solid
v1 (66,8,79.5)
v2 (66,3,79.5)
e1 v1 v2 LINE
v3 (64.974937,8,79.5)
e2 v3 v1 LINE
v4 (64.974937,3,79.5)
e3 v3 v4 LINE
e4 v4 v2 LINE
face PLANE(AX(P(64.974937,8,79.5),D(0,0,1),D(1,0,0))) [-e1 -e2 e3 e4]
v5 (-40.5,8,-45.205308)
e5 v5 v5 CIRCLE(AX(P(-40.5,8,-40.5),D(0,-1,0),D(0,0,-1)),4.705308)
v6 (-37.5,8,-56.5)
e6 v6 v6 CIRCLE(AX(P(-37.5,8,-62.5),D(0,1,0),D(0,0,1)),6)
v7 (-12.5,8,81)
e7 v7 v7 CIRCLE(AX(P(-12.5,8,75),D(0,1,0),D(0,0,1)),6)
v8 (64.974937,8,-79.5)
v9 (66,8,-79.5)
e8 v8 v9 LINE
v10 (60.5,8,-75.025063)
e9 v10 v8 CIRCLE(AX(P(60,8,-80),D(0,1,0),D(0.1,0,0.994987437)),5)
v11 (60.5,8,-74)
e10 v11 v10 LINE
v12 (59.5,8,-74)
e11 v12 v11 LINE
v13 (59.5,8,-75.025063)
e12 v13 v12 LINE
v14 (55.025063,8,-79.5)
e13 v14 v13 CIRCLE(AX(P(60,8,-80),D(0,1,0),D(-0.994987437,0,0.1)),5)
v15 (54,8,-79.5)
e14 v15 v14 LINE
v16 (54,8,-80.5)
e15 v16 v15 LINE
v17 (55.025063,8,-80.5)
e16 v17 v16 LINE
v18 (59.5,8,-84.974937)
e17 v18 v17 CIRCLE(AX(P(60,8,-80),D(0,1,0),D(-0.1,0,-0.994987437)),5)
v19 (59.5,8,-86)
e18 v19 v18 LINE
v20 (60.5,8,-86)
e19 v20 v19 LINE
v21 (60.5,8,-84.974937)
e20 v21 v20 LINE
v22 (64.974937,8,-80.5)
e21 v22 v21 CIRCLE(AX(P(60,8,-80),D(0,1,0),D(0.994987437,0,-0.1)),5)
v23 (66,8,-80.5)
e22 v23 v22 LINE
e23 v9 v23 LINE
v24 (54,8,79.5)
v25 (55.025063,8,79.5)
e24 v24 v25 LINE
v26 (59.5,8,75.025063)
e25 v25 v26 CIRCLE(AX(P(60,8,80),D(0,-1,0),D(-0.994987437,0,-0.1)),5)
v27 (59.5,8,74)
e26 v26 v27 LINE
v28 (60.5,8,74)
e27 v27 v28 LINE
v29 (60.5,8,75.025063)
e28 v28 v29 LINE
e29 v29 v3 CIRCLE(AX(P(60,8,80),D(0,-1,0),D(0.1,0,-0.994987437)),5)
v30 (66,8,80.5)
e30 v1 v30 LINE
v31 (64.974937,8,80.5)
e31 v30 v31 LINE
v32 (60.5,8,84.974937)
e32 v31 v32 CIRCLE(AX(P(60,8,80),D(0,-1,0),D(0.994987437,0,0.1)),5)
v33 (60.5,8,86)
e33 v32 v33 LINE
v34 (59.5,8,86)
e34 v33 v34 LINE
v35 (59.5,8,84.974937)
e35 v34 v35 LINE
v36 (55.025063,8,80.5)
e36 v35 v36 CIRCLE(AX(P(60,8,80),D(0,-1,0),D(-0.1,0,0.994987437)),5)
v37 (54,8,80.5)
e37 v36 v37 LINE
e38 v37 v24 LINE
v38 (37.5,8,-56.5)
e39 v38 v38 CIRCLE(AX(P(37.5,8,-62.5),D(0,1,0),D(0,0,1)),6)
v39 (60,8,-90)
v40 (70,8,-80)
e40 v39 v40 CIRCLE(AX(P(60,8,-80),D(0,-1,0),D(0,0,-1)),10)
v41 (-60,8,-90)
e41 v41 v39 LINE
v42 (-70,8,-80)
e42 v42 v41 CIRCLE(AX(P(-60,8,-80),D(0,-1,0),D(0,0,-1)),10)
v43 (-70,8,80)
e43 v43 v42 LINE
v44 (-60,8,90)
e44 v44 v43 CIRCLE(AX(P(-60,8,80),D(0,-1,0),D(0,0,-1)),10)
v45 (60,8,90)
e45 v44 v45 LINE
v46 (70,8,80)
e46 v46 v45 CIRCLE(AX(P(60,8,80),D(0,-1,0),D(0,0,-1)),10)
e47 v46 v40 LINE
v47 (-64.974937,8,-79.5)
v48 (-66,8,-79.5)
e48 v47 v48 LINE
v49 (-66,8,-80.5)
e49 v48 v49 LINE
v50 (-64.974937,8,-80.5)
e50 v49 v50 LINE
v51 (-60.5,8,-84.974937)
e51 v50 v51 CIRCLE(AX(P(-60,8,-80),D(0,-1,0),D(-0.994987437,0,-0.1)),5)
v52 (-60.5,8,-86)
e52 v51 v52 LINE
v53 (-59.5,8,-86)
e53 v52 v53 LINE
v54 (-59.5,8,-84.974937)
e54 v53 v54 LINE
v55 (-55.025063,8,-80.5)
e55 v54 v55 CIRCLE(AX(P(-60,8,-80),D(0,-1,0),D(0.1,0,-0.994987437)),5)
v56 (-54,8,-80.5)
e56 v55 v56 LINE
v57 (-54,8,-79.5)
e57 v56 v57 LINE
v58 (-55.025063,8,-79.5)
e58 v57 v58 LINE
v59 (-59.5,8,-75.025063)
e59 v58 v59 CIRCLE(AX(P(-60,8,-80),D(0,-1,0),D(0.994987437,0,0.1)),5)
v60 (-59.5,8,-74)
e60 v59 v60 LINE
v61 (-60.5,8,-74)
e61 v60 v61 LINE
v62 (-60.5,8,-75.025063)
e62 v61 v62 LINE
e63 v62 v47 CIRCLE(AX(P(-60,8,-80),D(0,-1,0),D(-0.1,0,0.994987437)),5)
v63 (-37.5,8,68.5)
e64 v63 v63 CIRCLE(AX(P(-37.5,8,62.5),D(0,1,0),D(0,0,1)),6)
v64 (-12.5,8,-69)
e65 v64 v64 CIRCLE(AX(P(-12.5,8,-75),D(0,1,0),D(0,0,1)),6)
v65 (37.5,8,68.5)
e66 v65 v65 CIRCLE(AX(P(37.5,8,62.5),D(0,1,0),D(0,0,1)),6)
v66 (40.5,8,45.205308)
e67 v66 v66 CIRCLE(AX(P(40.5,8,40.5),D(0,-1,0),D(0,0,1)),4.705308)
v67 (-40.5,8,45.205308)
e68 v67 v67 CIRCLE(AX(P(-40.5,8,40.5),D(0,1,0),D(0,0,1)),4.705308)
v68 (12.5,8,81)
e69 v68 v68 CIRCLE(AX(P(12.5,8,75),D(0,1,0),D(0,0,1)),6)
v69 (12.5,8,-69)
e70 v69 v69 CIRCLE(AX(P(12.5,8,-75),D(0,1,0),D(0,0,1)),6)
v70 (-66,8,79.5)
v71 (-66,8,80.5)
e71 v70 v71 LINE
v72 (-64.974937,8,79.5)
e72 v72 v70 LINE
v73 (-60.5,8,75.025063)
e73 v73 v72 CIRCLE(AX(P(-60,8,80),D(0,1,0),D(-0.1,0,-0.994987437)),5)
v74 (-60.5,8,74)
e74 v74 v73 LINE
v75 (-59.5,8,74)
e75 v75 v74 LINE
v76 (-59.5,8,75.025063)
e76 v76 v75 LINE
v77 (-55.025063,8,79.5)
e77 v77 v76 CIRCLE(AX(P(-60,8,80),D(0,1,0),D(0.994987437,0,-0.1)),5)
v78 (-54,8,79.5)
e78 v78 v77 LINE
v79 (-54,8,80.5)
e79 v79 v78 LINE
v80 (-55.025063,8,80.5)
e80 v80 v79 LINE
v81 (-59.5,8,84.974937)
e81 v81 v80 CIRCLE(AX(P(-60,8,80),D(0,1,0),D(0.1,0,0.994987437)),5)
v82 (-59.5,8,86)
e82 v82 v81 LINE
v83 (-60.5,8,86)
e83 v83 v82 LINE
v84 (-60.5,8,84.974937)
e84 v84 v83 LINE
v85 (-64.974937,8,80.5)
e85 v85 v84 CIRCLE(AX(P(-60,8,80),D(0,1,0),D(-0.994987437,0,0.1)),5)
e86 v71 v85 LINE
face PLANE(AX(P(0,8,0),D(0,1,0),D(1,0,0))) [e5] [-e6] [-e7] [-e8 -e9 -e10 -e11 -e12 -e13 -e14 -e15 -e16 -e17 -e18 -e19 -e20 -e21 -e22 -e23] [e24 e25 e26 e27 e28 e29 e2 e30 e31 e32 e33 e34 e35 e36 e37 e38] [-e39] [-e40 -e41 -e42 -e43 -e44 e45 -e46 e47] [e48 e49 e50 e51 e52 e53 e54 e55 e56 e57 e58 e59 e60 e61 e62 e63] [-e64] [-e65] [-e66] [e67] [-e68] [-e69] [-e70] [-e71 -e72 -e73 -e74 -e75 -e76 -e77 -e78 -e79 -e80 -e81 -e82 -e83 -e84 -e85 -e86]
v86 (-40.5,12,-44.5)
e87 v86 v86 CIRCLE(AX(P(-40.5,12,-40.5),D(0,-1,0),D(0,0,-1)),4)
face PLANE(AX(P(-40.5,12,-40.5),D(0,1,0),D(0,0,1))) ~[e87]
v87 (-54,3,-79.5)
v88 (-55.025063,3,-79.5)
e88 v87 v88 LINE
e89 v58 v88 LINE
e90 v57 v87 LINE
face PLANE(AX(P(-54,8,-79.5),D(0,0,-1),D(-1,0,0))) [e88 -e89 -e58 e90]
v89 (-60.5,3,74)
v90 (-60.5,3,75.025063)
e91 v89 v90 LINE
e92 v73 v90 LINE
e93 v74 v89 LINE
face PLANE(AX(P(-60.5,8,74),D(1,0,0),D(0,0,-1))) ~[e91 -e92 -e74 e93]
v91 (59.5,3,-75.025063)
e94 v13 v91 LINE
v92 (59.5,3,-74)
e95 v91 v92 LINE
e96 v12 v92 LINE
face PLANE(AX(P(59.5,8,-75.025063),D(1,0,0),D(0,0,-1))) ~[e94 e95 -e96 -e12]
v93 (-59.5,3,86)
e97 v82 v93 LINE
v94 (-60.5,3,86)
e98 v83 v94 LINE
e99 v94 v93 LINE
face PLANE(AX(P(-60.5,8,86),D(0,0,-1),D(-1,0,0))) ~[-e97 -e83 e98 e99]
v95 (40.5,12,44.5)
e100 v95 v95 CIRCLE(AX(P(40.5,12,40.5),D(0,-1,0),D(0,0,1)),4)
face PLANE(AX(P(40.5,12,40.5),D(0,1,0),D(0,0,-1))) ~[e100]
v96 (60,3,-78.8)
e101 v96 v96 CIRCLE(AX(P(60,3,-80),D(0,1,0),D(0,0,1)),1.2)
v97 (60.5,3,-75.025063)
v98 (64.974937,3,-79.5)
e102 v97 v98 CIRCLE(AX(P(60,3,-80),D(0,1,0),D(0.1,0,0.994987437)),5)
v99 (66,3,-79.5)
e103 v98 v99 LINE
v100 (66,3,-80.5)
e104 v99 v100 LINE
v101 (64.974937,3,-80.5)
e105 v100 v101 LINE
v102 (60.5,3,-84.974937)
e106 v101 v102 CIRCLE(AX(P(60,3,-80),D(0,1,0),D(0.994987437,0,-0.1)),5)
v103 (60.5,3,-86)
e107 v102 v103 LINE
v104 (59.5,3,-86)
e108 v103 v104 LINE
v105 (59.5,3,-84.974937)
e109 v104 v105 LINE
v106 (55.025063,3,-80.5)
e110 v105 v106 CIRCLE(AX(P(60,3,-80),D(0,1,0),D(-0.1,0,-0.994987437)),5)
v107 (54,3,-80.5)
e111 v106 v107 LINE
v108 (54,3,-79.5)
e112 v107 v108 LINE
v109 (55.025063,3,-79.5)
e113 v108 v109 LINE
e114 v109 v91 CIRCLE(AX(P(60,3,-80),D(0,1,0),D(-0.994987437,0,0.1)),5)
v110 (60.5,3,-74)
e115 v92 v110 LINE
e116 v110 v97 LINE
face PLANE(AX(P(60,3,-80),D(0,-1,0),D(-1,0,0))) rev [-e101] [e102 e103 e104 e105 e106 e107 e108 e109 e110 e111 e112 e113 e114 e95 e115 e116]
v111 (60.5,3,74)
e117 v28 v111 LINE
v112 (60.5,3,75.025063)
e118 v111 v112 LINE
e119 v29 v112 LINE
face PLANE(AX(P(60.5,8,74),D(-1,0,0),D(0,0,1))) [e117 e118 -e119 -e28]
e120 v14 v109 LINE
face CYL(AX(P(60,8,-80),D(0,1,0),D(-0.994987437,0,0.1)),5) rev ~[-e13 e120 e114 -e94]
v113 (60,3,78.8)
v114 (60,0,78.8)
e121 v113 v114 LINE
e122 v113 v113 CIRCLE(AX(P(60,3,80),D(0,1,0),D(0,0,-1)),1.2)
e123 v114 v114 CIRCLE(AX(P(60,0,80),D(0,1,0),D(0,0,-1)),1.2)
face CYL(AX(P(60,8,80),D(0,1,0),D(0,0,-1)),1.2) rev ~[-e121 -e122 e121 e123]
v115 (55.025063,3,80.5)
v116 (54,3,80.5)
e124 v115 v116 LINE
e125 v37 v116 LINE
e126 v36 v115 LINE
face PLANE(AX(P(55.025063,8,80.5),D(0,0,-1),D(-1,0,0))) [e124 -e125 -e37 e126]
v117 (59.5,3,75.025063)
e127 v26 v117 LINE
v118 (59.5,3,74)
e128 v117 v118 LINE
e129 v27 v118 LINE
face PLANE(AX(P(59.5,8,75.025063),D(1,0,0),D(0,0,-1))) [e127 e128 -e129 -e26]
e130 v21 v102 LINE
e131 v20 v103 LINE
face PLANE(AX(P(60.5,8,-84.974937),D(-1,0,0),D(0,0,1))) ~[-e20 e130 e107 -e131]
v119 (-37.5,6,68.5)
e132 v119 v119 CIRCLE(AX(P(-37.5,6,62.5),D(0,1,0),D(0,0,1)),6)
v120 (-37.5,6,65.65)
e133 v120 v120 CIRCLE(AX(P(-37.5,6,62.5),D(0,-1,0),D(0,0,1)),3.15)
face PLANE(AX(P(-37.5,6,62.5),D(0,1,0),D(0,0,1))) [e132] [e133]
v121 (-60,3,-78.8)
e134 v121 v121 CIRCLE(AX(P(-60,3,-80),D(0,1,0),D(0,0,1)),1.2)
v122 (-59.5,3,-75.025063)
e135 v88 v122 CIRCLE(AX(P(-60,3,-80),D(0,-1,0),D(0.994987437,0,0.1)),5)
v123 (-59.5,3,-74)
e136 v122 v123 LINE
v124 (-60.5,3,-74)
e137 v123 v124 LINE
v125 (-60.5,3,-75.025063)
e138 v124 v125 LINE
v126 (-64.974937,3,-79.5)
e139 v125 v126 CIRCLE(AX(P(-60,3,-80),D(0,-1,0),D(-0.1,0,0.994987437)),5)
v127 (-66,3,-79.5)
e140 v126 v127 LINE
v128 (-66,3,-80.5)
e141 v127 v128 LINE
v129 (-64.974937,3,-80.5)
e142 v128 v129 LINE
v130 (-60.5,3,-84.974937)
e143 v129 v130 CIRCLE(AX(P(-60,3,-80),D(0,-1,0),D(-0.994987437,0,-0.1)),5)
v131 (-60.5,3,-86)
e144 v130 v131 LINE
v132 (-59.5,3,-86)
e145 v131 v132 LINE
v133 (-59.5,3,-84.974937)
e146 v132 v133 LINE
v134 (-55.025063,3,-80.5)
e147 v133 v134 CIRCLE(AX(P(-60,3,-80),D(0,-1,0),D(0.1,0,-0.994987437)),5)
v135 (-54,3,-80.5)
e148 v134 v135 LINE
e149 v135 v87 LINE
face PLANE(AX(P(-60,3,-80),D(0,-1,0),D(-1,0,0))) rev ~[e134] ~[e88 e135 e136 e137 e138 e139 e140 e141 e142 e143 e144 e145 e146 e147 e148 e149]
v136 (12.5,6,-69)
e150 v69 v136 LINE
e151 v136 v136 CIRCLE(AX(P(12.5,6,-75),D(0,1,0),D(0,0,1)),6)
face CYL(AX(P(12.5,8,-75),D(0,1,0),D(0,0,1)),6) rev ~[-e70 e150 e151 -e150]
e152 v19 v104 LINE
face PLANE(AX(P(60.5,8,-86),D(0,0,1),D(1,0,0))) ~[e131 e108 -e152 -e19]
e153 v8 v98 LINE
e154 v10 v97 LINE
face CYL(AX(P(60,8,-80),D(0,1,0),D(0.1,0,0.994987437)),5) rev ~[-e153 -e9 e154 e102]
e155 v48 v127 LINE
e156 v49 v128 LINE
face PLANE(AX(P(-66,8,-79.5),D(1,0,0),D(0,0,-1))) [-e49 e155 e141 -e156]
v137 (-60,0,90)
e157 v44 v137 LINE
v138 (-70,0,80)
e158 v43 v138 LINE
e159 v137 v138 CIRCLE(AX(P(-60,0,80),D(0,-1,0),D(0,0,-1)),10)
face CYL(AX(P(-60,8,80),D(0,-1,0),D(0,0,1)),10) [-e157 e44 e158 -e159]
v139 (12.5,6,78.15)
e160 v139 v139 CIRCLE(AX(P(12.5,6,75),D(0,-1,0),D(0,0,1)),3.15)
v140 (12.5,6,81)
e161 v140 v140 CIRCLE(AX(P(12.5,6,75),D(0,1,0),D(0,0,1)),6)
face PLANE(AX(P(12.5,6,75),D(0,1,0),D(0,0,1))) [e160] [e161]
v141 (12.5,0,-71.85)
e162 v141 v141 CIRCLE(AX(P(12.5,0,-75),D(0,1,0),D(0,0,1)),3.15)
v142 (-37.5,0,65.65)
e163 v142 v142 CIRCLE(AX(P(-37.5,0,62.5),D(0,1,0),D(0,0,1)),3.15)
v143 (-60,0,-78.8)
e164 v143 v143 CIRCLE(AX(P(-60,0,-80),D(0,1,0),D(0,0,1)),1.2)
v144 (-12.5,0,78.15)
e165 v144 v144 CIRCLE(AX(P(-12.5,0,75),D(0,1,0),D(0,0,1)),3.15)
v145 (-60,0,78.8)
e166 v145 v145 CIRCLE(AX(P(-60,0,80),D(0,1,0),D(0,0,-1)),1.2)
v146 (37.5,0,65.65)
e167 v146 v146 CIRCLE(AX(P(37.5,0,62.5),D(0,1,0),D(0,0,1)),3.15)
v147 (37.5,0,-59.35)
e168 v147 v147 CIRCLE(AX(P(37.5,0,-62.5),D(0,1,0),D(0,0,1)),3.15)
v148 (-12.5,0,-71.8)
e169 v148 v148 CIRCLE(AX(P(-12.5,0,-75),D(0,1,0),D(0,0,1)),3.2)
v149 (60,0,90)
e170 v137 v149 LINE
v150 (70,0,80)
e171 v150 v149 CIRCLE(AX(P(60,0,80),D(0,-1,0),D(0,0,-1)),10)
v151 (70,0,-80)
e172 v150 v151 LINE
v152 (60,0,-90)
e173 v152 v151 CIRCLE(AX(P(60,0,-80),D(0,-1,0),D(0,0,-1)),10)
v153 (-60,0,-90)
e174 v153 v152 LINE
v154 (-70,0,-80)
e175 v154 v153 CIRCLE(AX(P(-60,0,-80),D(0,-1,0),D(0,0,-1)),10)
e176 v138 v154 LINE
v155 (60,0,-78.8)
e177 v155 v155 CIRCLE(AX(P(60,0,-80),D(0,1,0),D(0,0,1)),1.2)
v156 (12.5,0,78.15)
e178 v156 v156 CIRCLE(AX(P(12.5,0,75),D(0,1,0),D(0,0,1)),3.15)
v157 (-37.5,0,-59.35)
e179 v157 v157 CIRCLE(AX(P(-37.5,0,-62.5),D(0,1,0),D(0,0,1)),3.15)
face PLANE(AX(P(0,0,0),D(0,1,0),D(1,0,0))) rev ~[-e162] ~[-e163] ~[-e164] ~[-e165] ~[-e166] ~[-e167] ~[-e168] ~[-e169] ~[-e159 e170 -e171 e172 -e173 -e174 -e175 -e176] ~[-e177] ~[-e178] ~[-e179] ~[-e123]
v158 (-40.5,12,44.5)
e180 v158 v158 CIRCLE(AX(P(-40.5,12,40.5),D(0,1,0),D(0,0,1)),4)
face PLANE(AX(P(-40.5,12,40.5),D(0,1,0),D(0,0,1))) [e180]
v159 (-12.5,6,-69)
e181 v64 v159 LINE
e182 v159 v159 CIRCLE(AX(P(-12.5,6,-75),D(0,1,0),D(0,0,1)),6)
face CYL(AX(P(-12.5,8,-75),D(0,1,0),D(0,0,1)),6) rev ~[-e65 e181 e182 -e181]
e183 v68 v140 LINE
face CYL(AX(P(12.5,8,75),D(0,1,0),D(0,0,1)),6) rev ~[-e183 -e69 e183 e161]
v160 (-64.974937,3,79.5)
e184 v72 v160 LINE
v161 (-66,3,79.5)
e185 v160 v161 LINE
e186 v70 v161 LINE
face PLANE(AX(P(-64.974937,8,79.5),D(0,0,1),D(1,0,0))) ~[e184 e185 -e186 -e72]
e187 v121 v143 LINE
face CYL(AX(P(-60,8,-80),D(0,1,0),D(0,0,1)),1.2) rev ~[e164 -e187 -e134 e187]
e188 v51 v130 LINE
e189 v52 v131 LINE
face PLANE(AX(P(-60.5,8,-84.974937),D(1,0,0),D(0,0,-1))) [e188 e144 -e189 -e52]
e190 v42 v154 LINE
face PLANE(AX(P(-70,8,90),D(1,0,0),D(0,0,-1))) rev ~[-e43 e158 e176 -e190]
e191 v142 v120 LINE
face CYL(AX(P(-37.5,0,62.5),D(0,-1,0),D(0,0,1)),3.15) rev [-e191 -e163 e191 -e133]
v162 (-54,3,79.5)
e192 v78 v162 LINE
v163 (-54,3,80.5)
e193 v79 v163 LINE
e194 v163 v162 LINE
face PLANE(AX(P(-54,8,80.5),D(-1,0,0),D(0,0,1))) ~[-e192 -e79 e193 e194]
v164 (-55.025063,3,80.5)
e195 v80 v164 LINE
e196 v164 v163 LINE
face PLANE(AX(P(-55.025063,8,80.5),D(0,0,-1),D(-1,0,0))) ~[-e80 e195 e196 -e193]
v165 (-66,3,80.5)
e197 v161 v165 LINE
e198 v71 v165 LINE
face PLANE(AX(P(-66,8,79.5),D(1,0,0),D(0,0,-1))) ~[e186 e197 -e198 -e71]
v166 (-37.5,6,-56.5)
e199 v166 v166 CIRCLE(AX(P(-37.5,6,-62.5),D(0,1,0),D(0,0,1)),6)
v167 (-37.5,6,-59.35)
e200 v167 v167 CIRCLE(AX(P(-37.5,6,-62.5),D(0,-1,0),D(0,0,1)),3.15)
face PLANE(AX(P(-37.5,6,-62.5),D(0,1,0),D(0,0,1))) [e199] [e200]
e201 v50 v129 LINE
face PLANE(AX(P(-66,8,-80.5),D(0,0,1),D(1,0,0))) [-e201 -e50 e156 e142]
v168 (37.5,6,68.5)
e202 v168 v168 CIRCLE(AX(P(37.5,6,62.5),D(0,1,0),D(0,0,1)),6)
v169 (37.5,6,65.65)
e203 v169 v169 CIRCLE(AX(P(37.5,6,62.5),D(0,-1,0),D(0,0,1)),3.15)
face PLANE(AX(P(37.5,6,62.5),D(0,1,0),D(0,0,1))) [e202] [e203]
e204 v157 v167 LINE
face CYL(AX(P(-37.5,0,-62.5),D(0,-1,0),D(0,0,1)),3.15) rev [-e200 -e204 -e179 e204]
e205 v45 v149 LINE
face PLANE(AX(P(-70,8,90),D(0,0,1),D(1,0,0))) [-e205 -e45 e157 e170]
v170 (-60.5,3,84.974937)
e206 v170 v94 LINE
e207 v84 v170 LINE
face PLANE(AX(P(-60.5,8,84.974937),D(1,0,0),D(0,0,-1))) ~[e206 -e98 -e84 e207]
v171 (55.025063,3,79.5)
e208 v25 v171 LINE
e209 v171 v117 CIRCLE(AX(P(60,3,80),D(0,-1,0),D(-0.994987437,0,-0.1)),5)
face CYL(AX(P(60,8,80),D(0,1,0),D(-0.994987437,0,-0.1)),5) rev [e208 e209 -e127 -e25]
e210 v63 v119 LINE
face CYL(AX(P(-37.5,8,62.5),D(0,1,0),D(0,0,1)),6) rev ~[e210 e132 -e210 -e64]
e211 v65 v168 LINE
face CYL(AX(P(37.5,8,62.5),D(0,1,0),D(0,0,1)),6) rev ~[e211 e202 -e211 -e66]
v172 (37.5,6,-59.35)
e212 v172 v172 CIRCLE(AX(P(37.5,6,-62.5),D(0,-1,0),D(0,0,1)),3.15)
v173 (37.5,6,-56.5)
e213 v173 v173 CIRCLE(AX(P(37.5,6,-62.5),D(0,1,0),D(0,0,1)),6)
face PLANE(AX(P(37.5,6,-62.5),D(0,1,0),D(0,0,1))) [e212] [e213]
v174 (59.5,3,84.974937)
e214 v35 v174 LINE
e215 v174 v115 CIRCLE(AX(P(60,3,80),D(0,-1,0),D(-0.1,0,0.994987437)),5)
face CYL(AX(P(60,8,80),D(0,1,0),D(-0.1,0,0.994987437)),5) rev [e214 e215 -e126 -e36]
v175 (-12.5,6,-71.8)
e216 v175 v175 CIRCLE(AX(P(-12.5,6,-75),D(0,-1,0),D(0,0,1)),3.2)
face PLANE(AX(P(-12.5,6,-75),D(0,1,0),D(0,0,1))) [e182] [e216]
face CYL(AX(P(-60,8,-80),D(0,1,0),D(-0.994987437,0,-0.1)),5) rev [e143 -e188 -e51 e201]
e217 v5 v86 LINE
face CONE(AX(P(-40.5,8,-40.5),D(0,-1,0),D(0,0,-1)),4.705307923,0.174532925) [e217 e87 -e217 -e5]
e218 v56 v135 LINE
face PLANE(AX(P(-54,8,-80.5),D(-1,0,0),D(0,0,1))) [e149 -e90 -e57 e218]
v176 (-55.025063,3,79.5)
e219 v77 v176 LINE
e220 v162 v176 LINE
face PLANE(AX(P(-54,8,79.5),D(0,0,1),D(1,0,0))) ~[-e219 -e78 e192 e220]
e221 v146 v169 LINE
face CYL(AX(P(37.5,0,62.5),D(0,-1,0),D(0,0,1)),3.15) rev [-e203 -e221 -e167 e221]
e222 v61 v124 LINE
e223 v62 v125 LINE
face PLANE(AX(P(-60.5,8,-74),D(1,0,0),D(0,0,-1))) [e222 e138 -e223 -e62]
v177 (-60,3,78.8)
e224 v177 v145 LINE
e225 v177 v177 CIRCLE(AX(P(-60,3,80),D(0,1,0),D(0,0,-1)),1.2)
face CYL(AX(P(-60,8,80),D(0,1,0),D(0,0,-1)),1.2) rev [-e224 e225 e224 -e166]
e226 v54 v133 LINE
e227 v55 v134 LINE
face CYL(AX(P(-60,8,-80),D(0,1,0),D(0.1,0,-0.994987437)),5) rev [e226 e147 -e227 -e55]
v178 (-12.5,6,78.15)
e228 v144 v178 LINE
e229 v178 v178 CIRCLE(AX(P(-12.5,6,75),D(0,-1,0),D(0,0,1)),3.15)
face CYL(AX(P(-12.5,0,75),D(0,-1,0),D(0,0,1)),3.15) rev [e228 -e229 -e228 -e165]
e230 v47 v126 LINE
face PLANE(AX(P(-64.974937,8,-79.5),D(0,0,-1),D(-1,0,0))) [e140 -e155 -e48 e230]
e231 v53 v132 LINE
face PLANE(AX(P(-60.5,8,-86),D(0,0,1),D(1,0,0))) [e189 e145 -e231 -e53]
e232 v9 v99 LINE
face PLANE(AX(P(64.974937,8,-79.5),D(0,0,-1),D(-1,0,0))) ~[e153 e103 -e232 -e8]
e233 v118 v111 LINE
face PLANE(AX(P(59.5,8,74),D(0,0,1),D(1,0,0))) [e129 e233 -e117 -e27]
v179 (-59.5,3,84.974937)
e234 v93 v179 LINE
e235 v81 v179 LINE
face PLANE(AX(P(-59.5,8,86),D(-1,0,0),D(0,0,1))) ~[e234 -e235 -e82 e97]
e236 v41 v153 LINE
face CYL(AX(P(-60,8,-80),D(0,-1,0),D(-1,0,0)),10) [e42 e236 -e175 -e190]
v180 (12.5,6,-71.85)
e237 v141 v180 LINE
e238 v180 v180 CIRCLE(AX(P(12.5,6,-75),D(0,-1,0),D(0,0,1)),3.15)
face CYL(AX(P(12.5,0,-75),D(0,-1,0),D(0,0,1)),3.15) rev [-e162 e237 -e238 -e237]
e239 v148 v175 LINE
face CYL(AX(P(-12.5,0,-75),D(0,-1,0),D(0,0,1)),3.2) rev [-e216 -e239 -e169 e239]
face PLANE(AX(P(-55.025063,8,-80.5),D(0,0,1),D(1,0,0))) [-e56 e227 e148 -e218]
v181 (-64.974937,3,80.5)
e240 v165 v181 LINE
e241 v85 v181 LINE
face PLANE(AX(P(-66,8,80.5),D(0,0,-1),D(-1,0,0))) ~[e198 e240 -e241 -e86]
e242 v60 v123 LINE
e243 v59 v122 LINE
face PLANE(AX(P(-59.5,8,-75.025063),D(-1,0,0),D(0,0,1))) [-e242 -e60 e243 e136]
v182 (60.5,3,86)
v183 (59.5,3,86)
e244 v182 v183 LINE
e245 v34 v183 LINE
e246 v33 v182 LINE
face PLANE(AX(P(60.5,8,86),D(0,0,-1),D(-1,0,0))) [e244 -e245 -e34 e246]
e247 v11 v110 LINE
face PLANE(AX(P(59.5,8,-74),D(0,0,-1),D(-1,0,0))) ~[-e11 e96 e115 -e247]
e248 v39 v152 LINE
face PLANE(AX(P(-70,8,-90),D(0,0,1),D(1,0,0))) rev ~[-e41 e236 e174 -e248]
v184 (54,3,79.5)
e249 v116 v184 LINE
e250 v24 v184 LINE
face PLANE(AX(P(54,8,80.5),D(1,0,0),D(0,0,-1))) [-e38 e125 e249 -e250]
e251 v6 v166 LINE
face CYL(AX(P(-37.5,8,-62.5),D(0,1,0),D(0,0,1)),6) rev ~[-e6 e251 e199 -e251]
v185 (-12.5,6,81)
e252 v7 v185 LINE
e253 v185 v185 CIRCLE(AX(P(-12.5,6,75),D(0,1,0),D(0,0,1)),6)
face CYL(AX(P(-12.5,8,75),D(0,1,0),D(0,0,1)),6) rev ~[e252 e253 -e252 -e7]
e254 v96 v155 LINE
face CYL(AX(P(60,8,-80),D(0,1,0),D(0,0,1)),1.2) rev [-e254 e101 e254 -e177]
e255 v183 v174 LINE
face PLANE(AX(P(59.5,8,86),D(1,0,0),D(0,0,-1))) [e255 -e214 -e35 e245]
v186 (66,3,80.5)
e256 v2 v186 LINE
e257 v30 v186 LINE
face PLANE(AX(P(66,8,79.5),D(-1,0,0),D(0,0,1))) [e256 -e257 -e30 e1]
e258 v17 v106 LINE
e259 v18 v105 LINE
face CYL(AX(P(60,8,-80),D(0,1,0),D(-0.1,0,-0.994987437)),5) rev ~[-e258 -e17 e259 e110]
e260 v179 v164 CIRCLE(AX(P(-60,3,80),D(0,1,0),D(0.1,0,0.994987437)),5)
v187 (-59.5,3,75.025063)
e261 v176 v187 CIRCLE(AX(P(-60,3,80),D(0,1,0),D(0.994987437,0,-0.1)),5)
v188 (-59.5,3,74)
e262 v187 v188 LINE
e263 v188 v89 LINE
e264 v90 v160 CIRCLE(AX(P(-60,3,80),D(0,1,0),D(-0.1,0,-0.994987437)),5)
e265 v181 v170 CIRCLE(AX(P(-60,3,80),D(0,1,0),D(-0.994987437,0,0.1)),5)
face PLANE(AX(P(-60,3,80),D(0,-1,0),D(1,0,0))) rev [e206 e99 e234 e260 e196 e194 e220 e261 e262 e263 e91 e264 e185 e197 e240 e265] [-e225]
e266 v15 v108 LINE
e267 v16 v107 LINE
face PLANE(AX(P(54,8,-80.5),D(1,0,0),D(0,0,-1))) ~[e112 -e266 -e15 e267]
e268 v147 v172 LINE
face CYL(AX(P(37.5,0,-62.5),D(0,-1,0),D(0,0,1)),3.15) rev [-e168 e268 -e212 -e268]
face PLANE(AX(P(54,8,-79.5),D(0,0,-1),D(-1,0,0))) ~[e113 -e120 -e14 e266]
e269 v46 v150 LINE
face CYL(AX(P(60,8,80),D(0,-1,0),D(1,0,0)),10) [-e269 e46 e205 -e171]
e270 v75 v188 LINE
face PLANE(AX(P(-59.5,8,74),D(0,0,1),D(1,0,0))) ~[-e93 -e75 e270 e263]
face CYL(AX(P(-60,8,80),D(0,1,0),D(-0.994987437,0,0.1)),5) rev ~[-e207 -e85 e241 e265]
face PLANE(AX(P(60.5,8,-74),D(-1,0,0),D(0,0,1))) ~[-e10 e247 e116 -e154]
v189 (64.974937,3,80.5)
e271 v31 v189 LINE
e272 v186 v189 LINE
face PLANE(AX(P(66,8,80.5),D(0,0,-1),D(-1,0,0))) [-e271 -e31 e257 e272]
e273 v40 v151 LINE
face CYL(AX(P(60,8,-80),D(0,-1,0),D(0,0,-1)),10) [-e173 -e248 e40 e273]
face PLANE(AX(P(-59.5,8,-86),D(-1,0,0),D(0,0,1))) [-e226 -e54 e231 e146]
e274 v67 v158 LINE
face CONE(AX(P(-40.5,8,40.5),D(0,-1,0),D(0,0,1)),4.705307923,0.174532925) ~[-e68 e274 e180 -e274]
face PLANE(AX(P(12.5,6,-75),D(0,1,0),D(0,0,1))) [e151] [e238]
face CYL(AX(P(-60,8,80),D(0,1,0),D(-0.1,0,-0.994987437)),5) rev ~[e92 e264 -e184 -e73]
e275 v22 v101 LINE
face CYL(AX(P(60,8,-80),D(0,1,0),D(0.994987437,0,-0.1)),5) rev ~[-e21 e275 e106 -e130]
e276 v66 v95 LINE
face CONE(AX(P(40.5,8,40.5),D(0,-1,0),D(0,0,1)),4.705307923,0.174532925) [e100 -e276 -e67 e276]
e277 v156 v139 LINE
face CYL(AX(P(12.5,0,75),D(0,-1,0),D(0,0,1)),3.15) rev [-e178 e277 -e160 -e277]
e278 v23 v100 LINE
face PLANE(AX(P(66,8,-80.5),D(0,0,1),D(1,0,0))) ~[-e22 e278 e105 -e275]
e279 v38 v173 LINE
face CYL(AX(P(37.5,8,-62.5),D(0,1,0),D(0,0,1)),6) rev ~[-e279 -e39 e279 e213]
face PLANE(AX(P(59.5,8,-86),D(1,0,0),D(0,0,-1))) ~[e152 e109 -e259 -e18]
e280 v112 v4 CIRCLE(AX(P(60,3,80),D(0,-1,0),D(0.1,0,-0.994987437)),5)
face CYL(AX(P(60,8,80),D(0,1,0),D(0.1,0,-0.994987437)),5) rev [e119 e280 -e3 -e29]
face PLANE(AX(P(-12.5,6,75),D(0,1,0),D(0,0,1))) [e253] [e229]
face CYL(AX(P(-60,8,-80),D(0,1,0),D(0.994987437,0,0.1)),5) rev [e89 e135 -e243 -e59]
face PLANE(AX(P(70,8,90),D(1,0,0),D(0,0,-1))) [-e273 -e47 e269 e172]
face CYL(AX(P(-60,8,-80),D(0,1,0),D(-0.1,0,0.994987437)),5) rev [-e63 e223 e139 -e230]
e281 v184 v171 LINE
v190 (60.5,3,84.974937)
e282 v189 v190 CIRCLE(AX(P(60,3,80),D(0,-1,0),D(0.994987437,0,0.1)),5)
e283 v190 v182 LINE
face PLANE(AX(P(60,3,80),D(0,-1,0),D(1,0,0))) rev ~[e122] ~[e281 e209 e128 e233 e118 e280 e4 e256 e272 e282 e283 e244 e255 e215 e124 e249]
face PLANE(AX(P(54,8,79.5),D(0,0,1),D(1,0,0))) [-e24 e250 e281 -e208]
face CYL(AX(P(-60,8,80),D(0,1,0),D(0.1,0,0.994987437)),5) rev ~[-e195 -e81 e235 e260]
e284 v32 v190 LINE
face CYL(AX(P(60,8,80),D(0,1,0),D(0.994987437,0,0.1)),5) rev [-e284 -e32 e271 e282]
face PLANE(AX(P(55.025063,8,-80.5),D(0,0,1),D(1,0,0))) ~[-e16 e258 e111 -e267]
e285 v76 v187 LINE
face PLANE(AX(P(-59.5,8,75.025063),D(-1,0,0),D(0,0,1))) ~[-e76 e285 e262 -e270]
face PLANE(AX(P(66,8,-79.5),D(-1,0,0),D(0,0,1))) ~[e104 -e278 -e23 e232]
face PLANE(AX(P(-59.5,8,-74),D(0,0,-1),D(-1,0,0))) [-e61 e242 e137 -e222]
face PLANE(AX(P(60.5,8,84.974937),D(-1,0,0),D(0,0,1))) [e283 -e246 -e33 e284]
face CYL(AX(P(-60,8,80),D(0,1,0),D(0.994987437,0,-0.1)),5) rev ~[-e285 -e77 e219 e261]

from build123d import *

# Parameters (mm, degrees)
SKETCH_1_W                                 = 200
SKETCH_1_H                                 = 200
SKETCH_1_R                                 = 3.2
SKETCH_1_R_2                               = 3.15
EXTRUDE_1_DEPTH                            = 8
SKETCH_2_R                                 = 6
CUT_EXTRUDE_1_DEPTH                        = 2
SKETCH_3_W                                 = 200
SKETCH_3_H                                 = 200
SKETCH_3_W_2                               = 140
SKETCH_3_H_2                               = 180
CUT_EXTRUDE_2_DEPTH                        = 10
FILLET_1_R                                 = 10
FILLET_2_R                                 = 10
FILLET_3_R                                 = 10
FILLET_4_R                                 = 10
CUT_EXTRUDE_5_DEPTH                        = 5
MIRROR_7_AT_THE_SECOND_PLANE_COPY_1_DEPTH  = 5
SKETCH_15_R                                = 4
EXTRUDE_2_DEPTH                            = 4
DRAFT_3_ANGLE                              = 10
DRAFT_3_OF_MIRROR_13_2_ANGLE               = 10
DRAFT_3_OF_MIRROR_14_2_ANGLE               = 10
SKETCH_16_R                                = 1.2
CUT_EXTRUDE_6_DEPTH                        = 115.297856498
MIRROR_15_AT_THE_SECOND_PLANE_COPY_1_SKE_R = 1.2
MIRROR_15_AT_THE_SECOND_PLANE_COPY_1_DEPTH = 115.297856498


with BuildPart() as part:
    # 草图1 → 凸台-拉伸1 (new body)
    with BuildSketch(Plane(origin=(0, 0, 0), x_dir=(1, 0, 0), z_dir=(0, 1, 0))):
        Rectangle(SKETCH_1_W, SKETCH_1_H)
        with Locations(Location((-12.5, 75, 0), (0, 0, 270))):
            Circle(SKETCH_1_R, mode=Mode.SUBTRACT)
        with Locations(Location((12.5, 75, 0), (0, 0, 270))):
            Circle(SKETCH_1_R_2, mode=Mode.SUBTRACT)
        with Locations(Location((-12.5, -75, 0), (0, 0, 270))):
            Circle(SKETCH_1_R_2, mode=Mode.SUBTRACT)
        with Locations(Location((12.5, -75, 0), (0, 0, 270))):
            Circle(SKETCH_1_R_2, mode=Mode.SUBTRACT)
        with Locations(Location((-37.5, -62.5, 0), (0, 0, 270))):
            Circle(SKETCH_1_R_2, mode=Mode.SUBTRACT)
        with Locations(Location((37.5, -62.5, 0), (0, 0, 270))):
            Circle(SKETCH_1_R_2, mode=Mode.SUBTRACT)
        with Locations(Location((-37.5, 62.5, 0), (0, 0, 270))):
            Circle(SKETCH_1_R_2, mode=Mode.SUBTRACT)
        with Locations(Location((37.5, 62.5, 0), (0, 0, 270))):
            Circle(SKETCH_1_R_2, mode=Mode.SUBTRACT)
    extrude(amount=EXTRUDE_1_DEPTH)

    # 草图2 → 切除-拉伸1 (cut)
    with BuildSketch(Plane(origin=(0, 8, 0), x_dir=(1, 0, 0), z_dir=(0, 1, 0))):
        with Locations(Location((-37.5, 62.5, 0), (0, 0, 270))):
            Circle(SKETCH_2_R)
        with Locations(Location((-12.5, 75, 0), (0, 0, 270))):
            Circle(SKETCH_2_R)
        with Locations(Location((12.5, 75, 0), (0, 0, 270))):
            Circle(SKETCH_2_R)
        with Locations(Location((37.5, 62.5, 0), (0, 0, 270))):
            Circle(SKETCH_2_R)
        with Locations(Location((-37.5, -62.5, 0), (0, 0, 270))):
            Circle(SKETCH_2_R)
        with Locations(Location((-12.5, -75, 0), (0, 0, 270))):
            Circle(SKETCH_2_R)
        with Locations(Location((12.5, -75, 0), (0, 0, 270))):
            Circle(SKETCH_2_R)
        with Locations(Location((37.5, -62.5, 0), (0, 0, 270))):
            Circle(SKETCH_2_R)
    extrude(amount=-CUT_EXTRUDE_1_DEPTH, mode=Mode.SUBTRACT)

    # 草图3 → 切除-拉伸2 (cut)
    with BuildSketch(Plane(origin=(0, 8, 0), x_dir=(1, 0, 0), z_dir=(0, 1, 0))):
        Rectangle(SKETCH_3_W, SKETCH_3_H)
        Rectangle(SKETCH_3_W_2, SKETCH_3_H_2, mode=Mode.SUBTRACT)
    extrude(amount=-CUT_EXTRUDE_2_DEPTH, mode=Mode.SUBTRACT)

    # 圆角1
    fillet_1_edges = [part.edges().sort_by_distance(p)[0] for p in [
        (-70, 4, -90),
    ]]
    fillet(fillet_1_edges, radius=FILLET_1_R)

    # 圆角2
    fillet_2_edges = [part.edges().sort_by_distance(p)[0] for p in [
        (70, 4, -90),
    ]]
    fillet(fillet_2_edges, radius=FILLET_2_R)

    # 圆角3
    fillet_3_edges = [part.edges().sort_by_distance(p)[0] for p in [
        (70, 4, 90),
    ]]
    fillet(fillet_3_edges, radius=FILLET_3_R)

    # 圆角4
    fillet_4_edges = [part.edges().sort_by_distance(p)[0] for p in [
        (-70, 4, 90),
    ]]
    fillet(fillet_4_edges, radius=FILLET_4_R)

    # 草图12 → 切除-拉伸5 (cut)
    with BuildSketch(Plane(origin=(0, 8, 0), x_dir=(1, 0, 0), z_dir=(0, 1, 0))):
        with BuildLine():
            Line((-60.5, 84.974937186), (-60.5, 86))
            Line((-60.5, 86), (-59.5, 86))
            Line((-59.5, 86), (-59.5, 84.974937186))
            ThreePointArc((-59.5, 84.974937186), (-56.464466094, 83.535533906), (-55.025062814, 80.5))
            Line((-55.025062814, 80.5), (-54, 80.5))
            Line((-54, 80.5), (-54, 79.5))
            Line((-54, 79.5), (-55.025062814, 79.5))
            ThreePointArc((-55.025062814, 79.5), (-56.464466094, 76.464466094), (-59.5, 75.025062814))
            Line((-59.5, 75.025062814), (-59.5, 74))
            Line((-59.5, 74), (-60.5, 74))
            Line((-60.5, 74), (-60.5, 75.025062814))
            ThreePointArc((-60.5, 75.025062814), (-63.535533906, 76.464466094), (-64.974937186, 79.5))
            Line((-64.974937186, 79.5), (-66, 79.5))
            Line((-66, 79.5), (-66, 80.5))
            Line((-66, 80.5), (-64.974937186, 80.5))
            ThreePointArc((-64.974937186, 80.5), (-63.535533906, 83.535533906), (-60.5, 84.974937186))
        make_face()
    cut_extrude_5 = extrude(amount=-CUT_EXTRUDE_5_DEPTH, mode=Mode.SUBTRACT)

    # 镜向7: 切除-拉伸5 across plane
    add(cut_extrude_5.mirror(Plane.XY), mode=Mode.SUBTRACT)

    # 镜向7 at the second plane: 切除-拉伸5 across plane
    add(cut_extrude_5.mirror(Plane(origin=(0, 0, 0), x_dir=(0, 0, 1), z_dir=(1, 0, 0))), mode=Mode.SUBTRACT)

    # 镜向7 at the second plane copy 1 sket → 镜向7 at the second plane copy 1 (cut)
    with BuildSketch(Plane(origin=(0, 8, 0), x_dir=(-1, 0, 0), z_dir=(0, 1, 0))):
        with BuildLine():
            Line((-60.5, 84.974937186), (-60.5, 86))
            Line((-60.5, 86), (-59.5, 86))
            Line((-59.5, 86), (-59.5, 84.974937186))
            ThreePointArc((-59.5, 84.974937186), (-56.464466094, 83.535533906), (-55.025062814, 80.5))
            Line((-55.025062814, 80.5), (-54, 80.5))
            Line((-54, 80.5), (-54, 79.5))
            Line((-54, 79.5), (-55.025062814, 79.5))
            ThreePointArc((-55.025062814, 79.5), (-56.464466094, 76.464466094), (-59.5, 75.025062814))
            Line((-59.5, 75.025062814), (-59.5, 74))
            Line((-59.5, 74), (-60.5, 74))
            Line((-60.5, 74), (-60.5, 75.025062814))
            ThreePointArc((-60.5, 75.025062814), (-63.535533906, 76.464466094), (-64.974937186, 79.5))
            Line((-64.974937186, 79.5), (-66, 79.5))
            Line((-66, 79.5), (-66, 80.5))
            Line((-66, 80.5), (-64.974937186, 80.5))
            ThreePointArc((-64.974937186, 80.5), (-63.535533906, 83.535533906), (-60.5, 84.974937186))
        make_face()
    extrude(amount=-MIRROR_7_AT_THE_SECOND_PLANE_COPY_1_DEPTH, mode=Mode.SUBTRACT)

    # 草图15 → 凸台-拉伸2 (add)
    with BuildSketch(Plane(origin=(0, 8, 0), x_dir=(1, 0, 0), z_dir=(0, 1, 0))):
        with Locations(Location((-40.5, -40.5, 0), (0, 0, 270))):
            Circle(SKETCH_15_R)
    extrude_2 = extrude(amount=EXTRUDE_2_DEPTH)

    # 拔模3
    draft_3_faces = [part.faces().sort_by_distance(p)[0] for p in [
        (-40.5, 10, 36.5),
    ]]
    draft(draft_3_faces, Plane(origin=(-40.5, 12, 40.5), x_dir=(0, 0, 1), z_dir=(0, 1, 0)), DRAFT_3_ANGLE)

    # 镜向13: 凸台-拉伸2 across plane
    add(extrude_2.mirror(Plane.XY))

    # 拔模3 of Mirror 13 2
    draft_3_of_mirror_13_2_faces = [part.faces().sort_by_distance(p)[0] for p in [
        (-40.5, 10, -36.5),
    ]]
    draft(draft_3_of_mirror_13_2_faces, Plane(origin=(-40.5, 12, -40.5), x_dir=(0, 0, -1), z_dir=(0, 1, 0)), DRAFT_3_OF_MIRROR_13_2_ANGLE)

    # 镜向14: 凸台-拉伸2 across plane
    add(extrude_2.mirror(Plane(origin=(0, 0, 0), x_dir=(0, 0, 1), z_dir=(1, 0, 0))))

    # 拔模3 of Mirror 14 2
    draft_3_of_mirror_14_2_faces = [part.faces().sort_by_distance(p)[0] for p in [
        (40.5, 10, 36.5),
    ]]
    draft(draft_3_of_mirror_14_2_faces, Plane(origin=(40.5, 12, 40.5), x_dir=(0, 0, 1), z_dir=(0, 1, 0)), DRAFT_3_OF_MIRROR_14_2_ANGLE)

    # 草图16 → 切除-拉伸6 (cut, through all)
    with BuildSketch(Plane(origin=(0, 8, 0), x_dir=(1, 0, 0), z_dir=(0, 1, 0))):
        with Locations(Location((-60, 80, 0), (0, 0, 270))):
            Circle(SKETCH_16_R)
    cut_extrude_6 = extrude(amount=-CUT_EXTRUDE_6_DEPTH, mode=Mode.SUBTRACT)

    # 镜向15: 切除-拉伸6 across plane
    add(cut_extrude_6.mirror(Plane.XY), mode=Mode.SUBTRACT)

    # 镜向15 at the second plane: 切除-拉伸6 across plane
    add(cut_extrude_6.mirror(Plane(origin=(0, 0, 0), x_dir=(0, 0, 1), z_dir=(1, 0, 0))), mode=Mode.SUBTRACT)

    # 镜向15 at the second plane copy 1 ske → 镜向15 at the second plane copy 1 (cut, through all)
    with BuildSketch(Plane(origin=(0, 8, 0), x_dir=(-1, 0, 0), z_dir=(0, 1, 0))):
        with Locations(Location((-60, 80, 0), (0, 0, 270))):
            Circle(MIRROR_15_AT_THE_SECOND_PLANE_COPY_1_SKE_R)
    extrude(amount=-MIRROR_15_AT_THE_SECOND_PLANE_COPY_1_DEPTH, mode=Mode.SUBTRACT)


solid = part.part
